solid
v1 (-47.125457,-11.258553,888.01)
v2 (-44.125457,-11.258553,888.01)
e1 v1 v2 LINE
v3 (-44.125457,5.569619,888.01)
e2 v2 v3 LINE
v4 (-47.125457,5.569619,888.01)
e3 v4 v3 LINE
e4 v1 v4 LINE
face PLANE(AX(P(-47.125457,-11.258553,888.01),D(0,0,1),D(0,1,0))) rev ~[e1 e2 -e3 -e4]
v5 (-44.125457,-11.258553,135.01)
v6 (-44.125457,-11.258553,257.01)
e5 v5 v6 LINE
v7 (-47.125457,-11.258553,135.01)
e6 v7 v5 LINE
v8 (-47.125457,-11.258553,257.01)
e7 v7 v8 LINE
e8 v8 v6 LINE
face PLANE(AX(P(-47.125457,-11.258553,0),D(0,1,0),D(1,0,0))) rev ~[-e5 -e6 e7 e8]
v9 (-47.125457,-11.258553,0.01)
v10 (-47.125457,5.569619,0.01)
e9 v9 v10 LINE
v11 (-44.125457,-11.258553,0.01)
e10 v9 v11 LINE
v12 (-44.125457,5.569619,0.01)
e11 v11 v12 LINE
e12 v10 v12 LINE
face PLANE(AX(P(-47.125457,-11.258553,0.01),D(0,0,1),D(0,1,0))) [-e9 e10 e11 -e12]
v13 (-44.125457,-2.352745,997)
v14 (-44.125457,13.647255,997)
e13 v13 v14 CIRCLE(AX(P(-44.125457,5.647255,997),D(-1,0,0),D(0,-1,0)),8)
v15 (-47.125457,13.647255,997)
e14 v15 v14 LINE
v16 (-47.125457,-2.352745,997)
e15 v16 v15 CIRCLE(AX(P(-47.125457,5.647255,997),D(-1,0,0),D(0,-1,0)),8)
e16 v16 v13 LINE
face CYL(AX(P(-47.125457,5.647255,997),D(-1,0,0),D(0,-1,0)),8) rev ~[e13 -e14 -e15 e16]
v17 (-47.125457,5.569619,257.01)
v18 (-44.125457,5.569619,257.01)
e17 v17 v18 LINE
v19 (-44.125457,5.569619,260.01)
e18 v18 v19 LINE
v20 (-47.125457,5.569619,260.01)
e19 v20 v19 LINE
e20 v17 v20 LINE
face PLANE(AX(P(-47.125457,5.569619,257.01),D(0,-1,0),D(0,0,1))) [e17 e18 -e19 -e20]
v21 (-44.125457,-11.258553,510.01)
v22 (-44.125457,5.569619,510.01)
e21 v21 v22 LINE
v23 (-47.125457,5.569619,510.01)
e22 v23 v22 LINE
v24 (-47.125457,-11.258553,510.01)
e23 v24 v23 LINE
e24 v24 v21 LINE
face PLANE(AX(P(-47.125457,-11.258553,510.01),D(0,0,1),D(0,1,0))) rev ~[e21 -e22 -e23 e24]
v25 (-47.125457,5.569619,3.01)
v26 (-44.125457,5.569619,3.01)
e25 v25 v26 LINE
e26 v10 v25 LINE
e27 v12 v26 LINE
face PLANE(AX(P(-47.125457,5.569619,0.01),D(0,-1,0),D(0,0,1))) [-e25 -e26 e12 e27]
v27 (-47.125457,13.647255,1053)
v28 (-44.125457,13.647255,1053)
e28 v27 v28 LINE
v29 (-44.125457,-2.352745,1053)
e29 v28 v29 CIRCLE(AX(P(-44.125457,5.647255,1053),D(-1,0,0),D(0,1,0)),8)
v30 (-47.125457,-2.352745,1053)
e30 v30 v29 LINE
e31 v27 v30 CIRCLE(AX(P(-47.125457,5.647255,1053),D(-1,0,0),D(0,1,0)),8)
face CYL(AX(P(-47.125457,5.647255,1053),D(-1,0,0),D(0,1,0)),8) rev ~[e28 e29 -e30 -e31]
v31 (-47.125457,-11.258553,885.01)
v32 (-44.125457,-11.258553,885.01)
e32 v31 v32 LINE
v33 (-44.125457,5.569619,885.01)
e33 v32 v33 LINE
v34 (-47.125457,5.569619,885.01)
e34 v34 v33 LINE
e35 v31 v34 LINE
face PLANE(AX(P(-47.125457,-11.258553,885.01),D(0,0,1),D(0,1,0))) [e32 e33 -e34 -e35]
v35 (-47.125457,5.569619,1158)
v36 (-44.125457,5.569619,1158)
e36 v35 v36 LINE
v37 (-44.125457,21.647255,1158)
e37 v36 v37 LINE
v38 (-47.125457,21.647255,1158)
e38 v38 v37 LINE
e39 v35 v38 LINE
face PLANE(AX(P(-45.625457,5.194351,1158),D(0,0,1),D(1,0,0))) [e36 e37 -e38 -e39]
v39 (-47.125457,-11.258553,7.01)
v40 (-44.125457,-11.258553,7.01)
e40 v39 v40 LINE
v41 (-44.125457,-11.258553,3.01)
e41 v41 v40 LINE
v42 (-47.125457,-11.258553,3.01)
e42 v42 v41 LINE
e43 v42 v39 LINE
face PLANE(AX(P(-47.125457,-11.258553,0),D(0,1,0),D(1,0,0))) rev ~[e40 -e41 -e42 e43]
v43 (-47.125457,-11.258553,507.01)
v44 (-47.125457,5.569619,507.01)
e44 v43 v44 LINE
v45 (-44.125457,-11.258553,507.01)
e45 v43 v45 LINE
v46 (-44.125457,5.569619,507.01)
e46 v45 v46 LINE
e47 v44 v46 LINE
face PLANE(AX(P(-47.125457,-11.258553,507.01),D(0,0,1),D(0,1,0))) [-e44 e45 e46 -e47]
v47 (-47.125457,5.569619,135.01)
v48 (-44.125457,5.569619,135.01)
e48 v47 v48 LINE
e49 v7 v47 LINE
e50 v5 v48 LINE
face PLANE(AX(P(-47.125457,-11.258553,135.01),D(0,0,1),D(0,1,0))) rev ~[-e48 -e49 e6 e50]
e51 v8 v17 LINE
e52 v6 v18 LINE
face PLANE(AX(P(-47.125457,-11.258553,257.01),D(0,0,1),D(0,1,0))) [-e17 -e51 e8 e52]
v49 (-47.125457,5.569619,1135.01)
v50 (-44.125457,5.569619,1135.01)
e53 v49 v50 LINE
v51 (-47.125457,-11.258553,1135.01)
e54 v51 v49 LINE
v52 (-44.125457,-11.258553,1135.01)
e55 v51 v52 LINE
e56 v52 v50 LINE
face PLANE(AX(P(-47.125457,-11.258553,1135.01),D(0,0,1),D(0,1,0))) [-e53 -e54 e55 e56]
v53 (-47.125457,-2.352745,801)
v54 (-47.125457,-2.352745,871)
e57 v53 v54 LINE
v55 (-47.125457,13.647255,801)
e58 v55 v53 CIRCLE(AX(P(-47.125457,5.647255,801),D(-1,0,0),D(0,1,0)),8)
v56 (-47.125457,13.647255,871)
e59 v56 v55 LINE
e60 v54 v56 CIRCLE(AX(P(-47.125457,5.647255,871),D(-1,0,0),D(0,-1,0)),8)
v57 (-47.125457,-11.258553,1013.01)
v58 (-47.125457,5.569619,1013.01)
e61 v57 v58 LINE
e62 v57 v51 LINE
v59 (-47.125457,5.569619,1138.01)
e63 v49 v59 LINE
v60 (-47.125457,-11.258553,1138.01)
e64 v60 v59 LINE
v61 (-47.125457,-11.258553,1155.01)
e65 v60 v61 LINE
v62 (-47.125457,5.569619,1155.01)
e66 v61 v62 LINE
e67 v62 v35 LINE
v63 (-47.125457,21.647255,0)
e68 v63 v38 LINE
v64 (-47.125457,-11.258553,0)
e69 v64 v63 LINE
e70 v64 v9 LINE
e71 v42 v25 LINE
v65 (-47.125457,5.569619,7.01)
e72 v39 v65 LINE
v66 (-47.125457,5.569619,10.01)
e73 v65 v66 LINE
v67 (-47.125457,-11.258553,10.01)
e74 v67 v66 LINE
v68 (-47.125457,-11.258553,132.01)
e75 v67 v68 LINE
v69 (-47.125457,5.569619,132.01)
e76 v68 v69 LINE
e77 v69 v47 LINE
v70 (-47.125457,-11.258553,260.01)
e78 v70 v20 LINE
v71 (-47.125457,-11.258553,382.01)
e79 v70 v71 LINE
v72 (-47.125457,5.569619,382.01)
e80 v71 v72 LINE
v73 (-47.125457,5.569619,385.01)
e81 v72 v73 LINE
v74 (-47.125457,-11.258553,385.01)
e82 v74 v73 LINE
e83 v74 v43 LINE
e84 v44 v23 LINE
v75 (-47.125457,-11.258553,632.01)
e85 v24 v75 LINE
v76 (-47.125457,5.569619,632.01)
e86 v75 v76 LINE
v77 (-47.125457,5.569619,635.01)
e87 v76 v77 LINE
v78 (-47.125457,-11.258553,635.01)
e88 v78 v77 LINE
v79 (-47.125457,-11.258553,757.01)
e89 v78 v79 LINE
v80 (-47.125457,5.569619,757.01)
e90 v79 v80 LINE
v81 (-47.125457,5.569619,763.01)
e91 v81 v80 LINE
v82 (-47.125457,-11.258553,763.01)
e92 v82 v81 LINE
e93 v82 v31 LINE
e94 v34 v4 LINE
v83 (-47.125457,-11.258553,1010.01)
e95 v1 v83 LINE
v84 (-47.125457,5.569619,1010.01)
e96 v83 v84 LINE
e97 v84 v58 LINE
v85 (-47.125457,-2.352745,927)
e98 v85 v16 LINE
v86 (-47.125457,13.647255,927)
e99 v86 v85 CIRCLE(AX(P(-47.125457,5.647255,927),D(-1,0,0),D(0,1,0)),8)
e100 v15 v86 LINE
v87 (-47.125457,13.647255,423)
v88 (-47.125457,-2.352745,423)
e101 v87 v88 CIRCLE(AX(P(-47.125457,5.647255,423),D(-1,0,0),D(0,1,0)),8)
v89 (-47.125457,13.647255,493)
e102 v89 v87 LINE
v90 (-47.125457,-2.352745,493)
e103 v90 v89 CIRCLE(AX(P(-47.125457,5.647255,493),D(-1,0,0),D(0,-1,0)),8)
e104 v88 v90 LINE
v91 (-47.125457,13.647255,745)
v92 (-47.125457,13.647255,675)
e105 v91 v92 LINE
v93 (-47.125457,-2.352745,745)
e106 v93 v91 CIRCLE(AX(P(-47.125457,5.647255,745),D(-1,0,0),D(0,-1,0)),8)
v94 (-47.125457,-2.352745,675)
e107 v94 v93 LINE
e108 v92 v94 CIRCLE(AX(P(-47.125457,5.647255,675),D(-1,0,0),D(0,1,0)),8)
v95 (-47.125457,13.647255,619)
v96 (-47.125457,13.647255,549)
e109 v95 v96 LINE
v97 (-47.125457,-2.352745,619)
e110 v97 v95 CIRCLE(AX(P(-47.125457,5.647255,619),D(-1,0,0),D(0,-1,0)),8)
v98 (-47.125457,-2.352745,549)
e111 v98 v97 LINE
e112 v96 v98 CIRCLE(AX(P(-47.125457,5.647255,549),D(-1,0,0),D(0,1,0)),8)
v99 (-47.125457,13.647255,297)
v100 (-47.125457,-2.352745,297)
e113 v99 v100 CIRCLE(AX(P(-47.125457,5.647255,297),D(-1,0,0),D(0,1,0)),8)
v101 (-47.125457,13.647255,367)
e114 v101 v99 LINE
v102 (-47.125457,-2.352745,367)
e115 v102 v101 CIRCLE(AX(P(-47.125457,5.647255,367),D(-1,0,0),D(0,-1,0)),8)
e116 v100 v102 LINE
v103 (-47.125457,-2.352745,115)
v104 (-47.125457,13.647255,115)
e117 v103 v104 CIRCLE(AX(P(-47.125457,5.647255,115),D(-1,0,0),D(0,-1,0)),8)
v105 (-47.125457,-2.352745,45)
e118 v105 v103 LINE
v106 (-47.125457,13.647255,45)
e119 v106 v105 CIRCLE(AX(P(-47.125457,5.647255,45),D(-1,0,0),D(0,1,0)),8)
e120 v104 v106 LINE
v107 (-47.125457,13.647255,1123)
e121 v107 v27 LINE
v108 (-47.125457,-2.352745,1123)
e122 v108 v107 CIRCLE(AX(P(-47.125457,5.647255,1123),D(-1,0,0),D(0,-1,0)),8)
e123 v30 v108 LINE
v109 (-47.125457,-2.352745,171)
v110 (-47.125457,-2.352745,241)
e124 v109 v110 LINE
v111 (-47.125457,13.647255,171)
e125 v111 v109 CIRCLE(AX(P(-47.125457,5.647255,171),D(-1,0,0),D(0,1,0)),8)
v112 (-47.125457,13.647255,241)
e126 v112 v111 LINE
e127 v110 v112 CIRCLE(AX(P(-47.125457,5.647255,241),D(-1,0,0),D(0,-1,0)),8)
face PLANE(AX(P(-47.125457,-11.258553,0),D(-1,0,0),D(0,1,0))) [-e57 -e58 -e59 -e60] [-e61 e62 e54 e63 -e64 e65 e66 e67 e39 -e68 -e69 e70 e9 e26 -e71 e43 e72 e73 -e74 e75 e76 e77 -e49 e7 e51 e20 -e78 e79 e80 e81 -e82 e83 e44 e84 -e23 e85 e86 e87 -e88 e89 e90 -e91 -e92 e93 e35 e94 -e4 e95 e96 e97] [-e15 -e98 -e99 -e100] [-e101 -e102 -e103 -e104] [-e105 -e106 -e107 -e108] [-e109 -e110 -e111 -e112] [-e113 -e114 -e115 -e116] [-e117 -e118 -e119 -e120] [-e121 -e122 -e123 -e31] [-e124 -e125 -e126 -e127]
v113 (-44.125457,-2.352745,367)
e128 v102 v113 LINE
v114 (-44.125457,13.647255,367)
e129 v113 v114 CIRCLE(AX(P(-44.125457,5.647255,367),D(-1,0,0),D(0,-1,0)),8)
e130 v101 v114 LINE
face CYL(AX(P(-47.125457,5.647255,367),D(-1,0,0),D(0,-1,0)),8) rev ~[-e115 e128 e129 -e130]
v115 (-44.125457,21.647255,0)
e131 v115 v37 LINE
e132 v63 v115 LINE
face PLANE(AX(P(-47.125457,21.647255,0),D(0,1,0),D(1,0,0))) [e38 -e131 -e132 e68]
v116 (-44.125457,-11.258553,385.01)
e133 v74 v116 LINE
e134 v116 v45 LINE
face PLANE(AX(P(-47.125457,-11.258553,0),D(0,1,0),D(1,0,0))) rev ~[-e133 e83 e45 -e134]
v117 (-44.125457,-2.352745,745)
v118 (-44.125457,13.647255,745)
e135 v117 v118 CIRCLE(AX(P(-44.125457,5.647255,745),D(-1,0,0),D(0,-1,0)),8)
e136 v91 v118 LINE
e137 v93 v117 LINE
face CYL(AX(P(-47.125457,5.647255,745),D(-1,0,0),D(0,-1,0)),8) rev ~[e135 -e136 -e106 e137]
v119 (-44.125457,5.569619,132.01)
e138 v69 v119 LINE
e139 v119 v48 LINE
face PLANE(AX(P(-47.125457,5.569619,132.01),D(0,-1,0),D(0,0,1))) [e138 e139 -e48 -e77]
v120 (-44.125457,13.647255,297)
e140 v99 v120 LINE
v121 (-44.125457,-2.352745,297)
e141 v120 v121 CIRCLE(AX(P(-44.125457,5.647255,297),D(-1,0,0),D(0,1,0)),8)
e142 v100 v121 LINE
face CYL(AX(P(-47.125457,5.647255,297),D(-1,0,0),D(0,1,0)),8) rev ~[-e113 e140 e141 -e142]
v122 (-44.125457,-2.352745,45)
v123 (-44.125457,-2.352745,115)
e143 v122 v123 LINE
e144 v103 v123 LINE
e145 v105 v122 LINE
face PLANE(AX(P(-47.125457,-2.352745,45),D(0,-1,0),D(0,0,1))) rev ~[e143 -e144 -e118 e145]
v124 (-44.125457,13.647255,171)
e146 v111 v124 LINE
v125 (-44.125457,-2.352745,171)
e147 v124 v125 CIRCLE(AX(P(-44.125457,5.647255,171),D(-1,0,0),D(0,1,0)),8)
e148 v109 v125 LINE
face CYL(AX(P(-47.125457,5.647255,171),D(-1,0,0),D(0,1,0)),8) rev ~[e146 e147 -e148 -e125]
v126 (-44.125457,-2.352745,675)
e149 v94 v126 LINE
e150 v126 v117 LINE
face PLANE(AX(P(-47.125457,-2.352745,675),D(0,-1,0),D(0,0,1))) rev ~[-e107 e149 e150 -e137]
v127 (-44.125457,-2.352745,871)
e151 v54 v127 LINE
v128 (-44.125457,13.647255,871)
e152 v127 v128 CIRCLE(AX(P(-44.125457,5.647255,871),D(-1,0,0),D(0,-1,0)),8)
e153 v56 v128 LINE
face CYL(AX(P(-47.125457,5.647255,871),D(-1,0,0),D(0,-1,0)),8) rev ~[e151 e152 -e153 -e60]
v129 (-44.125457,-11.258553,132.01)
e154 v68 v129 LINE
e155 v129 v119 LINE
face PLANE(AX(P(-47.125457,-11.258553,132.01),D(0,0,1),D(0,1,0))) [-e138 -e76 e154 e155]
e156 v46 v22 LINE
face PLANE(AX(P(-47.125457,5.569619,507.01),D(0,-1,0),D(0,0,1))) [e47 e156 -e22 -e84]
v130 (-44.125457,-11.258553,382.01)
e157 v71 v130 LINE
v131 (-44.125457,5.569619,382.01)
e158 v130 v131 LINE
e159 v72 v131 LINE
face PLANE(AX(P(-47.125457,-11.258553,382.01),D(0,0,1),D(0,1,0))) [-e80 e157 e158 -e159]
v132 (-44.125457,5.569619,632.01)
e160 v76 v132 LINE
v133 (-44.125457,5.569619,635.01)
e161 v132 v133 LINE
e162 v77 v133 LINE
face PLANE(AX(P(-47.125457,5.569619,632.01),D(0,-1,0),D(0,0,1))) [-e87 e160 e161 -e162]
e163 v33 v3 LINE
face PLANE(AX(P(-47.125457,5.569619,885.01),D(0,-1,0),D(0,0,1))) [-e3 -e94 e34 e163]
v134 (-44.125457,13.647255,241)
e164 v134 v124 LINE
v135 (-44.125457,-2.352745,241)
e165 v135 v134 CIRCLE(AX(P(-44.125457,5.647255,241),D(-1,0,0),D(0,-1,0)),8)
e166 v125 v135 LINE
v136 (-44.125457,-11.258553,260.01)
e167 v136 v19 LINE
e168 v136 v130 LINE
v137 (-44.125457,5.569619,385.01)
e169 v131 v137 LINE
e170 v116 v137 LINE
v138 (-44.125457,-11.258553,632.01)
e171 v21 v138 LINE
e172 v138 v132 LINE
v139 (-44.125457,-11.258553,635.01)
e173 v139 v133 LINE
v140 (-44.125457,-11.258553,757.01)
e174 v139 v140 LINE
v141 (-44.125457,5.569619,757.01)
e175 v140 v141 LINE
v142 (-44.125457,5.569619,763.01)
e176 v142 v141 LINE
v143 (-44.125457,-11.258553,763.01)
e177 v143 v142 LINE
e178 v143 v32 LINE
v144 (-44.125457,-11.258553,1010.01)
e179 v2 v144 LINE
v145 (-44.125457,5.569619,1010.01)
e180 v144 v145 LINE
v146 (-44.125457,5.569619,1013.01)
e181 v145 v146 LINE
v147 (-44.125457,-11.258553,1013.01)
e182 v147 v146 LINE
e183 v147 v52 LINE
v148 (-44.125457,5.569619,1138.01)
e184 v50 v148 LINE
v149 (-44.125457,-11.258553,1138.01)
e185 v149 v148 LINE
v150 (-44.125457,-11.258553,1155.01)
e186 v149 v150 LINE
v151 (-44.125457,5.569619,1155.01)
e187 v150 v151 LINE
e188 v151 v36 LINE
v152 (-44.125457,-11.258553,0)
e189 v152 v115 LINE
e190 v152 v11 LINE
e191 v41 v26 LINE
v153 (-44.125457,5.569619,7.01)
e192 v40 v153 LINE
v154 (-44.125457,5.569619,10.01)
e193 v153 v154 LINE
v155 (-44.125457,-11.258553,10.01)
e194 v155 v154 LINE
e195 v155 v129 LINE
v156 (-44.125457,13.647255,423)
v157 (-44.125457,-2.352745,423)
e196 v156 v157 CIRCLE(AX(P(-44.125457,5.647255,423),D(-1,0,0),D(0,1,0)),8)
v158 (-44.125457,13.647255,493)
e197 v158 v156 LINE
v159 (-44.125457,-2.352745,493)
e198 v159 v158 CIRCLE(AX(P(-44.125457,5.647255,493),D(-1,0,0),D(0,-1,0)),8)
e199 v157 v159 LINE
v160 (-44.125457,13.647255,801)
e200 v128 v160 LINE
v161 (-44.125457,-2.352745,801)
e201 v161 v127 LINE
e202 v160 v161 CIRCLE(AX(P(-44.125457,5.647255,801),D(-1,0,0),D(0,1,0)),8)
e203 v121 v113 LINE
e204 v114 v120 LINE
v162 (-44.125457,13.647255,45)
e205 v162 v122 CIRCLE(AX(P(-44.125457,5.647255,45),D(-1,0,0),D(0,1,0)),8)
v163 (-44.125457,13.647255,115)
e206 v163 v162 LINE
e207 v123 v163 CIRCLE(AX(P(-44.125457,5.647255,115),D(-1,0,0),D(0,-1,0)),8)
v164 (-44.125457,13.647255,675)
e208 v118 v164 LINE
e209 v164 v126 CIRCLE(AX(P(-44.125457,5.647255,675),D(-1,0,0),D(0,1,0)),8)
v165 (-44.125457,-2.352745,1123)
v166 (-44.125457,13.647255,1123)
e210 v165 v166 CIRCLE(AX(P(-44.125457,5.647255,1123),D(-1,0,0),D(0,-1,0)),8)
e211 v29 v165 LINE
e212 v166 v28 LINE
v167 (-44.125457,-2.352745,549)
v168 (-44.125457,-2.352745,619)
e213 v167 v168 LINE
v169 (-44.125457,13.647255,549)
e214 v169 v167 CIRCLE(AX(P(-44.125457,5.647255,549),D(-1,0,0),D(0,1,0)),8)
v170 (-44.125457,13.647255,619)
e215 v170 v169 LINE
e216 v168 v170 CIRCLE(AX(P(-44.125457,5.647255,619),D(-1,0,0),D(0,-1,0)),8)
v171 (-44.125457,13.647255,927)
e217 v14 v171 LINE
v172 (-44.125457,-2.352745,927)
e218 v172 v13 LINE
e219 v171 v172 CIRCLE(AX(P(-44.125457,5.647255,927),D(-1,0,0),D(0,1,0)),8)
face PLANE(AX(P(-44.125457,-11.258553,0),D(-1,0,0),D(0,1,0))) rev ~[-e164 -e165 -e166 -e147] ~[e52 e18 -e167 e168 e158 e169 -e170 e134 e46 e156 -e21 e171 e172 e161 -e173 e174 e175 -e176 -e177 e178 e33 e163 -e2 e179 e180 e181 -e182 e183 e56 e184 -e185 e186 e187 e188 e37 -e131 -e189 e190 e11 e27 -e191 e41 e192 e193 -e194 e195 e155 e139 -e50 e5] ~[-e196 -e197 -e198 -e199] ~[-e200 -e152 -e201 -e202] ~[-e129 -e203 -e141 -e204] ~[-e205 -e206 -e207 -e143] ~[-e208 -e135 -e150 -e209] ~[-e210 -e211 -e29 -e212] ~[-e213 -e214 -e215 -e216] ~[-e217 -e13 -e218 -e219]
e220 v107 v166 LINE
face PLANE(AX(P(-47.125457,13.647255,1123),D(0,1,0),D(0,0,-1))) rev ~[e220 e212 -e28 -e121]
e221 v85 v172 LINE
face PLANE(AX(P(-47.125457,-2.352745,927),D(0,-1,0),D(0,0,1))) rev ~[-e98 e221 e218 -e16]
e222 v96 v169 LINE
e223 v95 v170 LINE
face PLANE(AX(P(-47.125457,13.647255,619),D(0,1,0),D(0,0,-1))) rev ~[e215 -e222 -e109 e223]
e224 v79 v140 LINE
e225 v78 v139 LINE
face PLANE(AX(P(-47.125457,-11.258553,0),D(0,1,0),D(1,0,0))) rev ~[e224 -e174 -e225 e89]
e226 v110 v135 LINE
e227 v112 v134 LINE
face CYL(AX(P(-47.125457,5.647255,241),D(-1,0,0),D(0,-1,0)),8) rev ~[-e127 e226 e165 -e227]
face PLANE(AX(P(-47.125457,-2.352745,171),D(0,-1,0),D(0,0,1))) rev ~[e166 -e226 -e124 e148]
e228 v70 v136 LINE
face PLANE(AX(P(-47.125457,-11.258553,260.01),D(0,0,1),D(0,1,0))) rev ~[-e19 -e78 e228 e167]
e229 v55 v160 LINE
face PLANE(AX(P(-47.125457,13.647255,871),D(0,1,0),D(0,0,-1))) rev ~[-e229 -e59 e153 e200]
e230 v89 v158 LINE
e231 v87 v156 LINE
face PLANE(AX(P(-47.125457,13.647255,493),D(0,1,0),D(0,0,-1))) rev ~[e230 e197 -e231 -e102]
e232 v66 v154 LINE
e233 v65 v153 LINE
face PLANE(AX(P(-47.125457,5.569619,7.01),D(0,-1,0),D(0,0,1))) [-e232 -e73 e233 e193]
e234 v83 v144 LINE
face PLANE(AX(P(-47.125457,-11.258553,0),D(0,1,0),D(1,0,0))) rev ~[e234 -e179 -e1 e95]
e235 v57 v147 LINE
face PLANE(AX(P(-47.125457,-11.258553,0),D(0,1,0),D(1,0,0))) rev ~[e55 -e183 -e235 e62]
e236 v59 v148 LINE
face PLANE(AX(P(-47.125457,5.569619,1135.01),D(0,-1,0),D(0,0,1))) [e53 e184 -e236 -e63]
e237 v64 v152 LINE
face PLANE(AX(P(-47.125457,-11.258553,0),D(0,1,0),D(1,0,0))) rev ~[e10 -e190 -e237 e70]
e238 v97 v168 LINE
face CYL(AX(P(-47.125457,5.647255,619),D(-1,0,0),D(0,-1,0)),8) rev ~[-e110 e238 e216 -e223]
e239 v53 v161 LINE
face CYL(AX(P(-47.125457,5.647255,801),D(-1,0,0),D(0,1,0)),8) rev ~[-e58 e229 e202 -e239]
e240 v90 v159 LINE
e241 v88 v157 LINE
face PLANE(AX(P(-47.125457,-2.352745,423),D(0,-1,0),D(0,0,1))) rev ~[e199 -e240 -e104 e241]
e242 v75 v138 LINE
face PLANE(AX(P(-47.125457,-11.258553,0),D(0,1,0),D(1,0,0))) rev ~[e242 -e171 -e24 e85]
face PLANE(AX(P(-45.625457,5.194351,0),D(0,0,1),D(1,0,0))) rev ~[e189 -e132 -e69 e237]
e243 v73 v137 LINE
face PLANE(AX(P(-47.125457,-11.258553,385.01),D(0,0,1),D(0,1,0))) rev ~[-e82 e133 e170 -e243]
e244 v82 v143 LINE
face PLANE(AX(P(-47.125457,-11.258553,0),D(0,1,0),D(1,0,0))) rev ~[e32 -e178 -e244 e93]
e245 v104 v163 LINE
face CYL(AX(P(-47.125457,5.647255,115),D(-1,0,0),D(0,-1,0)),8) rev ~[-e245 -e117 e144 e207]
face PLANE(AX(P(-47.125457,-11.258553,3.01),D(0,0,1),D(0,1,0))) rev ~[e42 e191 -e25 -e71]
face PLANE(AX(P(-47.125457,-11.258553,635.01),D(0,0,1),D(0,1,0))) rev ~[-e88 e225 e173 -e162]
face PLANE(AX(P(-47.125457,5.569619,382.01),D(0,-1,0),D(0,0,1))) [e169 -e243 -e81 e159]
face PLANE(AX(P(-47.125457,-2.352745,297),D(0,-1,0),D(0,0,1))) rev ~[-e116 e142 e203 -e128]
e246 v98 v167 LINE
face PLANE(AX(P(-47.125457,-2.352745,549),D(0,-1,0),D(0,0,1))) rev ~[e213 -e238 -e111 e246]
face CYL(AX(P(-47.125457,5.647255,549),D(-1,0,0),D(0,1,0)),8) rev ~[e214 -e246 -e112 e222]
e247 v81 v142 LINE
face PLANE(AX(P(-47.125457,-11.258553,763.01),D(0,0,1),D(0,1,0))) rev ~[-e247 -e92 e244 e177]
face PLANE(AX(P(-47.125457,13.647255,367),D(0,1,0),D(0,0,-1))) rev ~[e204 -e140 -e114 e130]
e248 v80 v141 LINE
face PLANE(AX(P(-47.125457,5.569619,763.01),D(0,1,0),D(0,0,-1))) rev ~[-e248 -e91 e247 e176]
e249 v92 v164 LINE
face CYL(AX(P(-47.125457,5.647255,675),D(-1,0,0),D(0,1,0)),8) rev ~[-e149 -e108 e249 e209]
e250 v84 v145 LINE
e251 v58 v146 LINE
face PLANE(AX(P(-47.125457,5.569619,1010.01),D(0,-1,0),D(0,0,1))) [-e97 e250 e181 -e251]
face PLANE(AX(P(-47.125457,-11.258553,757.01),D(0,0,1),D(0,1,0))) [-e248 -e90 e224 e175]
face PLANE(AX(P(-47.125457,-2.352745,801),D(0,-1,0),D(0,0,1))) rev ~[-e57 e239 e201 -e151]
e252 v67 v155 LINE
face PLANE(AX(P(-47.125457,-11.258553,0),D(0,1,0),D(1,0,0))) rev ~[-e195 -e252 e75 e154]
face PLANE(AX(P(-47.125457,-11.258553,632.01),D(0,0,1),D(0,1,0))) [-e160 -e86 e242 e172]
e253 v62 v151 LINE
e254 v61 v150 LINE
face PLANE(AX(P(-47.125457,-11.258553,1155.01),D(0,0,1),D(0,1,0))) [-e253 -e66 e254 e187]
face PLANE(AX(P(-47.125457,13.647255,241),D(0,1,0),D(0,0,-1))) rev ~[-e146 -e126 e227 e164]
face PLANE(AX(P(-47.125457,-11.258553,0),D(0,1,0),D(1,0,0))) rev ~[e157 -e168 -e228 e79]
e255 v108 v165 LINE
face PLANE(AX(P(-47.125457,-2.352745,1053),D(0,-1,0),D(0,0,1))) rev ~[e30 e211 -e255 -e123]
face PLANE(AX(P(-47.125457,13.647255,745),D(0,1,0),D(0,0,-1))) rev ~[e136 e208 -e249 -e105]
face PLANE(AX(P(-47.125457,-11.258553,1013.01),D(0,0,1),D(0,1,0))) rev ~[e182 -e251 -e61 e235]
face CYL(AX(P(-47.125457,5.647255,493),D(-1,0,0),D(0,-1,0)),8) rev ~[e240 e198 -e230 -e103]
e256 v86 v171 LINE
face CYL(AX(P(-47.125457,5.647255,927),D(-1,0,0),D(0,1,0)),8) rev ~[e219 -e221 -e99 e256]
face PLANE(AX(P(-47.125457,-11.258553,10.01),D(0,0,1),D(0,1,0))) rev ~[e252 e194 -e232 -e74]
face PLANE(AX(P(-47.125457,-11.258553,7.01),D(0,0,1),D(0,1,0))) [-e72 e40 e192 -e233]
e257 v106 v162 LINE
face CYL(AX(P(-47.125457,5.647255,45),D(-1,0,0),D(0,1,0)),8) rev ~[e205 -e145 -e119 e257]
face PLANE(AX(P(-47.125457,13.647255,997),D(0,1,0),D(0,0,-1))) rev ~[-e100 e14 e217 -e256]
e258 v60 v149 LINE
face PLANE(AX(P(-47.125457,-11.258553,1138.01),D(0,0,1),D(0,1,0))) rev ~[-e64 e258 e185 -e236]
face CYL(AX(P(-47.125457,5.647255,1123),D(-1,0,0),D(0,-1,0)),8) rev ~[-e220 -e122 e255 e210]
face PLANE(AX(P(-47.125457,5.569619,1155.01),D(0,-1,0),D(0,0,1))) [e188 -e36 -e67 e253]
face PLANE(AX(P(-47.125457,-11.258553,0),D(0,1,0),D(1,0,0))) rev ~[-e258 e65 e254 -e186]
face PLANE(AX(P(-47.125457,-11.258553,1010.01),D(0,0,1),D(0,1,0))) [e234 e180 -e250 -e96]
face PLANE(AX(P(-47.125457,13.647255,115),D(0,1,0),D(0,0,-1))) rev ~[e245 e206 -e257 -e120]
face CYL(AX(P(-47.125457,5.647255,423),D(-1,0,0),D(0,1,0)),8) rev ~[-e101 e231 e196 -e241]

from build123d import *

# Parameters (mm, degrees)
SKETCH_1_W          = 3
SKETCH_1_H          = 32.905807398
EXTRUDE_1_DEPTH     = 1158
SKETCH_2_W          = 3
SKETCH_2_H          = 16.828171787
SKETCH_2_W_2        = 2.99
CUT_EXTRUDE_1_DEPTH = 3


with BuildPart() as part:
    # 草图1 → 凸台-拉伸1 (new body)
    with BuildSketch(Plane.XY):
        with Locations((-45.625456821, 5.194351007)):
            Rectangle(SKETCH_1_W, SKETCH_1_H)
    extrude(amount=EXTRUDE_1_DEPTH)

    # 草图2 → 切除-拉伸1 (cut)
    with BuildSketch(Plane.ZY.offset(47.125456821)):
        with Locations((1.51, -2.844466799)):
            Rectangle(SKETCH_2_W, SKETCH_2_H)
        with Locations((8.51, -2.844466799)):
            Rectangle(SKETCH_2_W, SKETCH_2_H)
        with BuildLine():
            Line((45, -2.352745294), (115, -2.352745294))
            ThreePointArc((115, -2.352745294), (123, 5.647254706), (115, 13.647254706))
            Line((115, 13.647254706), (45, 13.647254706))
            ThreePointArc((45, 13.647254706), (37, 5.647254706), (45, -2.352745294))
        make_face()
        with Locations((133.51, -2.844466799)):
            Rectangle(SKETCH_2_W, SKETCH_2_H)
        with BuildLine():
            Line((171, -2.352745294), (241, -2.352745294))
            ThreePointArc((241, -2.352745294), (249, 5.647254706), (241, 13.647254706))
            Line((241, 13.647254706), (171, 13.647254706))
            ThreePointArc((171, 13.647254706), (163, 5.647254706), (171, -2.352745294))
        make_face()
        with Locations((258.51, -2.844466799)):
            Rectangle(SKETCH_2_W, SKETCH_2_H)
        with BuildLine():
            Line((297, -2.352745294), (367, -2.352745294))
            ThreePointArc((367, -2.352745294), (375, 5.647254706), (367, 13.647254706))
            Line((367, 13.647254706), (297, 13.647254706))
            ThreePointArc((297, 13.647254706), (289, 5.647254706), (297, -2.352745294))
        make_face()
        with Locations((383.51, -2.844466799)):
            Rectangle(SKETCH_2_W, SKETCH_2_H)
        with BuildLine():
            Line((423, -2.352745294), (493, -2.352745294))
            ThreePointArc((493, -2.352745294), (501, 5.647254706), (493, 13.647254706))
            Line((493, 13.647254706), (423, 13.647254706))
            ThreePointArc((423, 13.647254706), (415, 5.647254706), (423, -2.352745294))
        make_face()
        with Locations((508.51, -2.844466799)):
            Rectangle(SKETCH_2_W, SKETCH_2_H)
        with BuildLine():
            Line((549, -2.352745294), (619, -2.352745294))
            ThreePointArc((619, -2.352745294), (627, 5.647254706), (619, 13.647254706))
            Line((619, 13.647254706), (549, 13.647254706))
            ThreePointArc((549, 13.647254706), (541, 5.647254706), (549, -2.352745294))
        make_face()
        with Locations((633.51, -2.844466799)):
            Rectangle(SKETCH_2_W, SKETCH_2_H)
        with BuildLine():
            Line((675, -2.352745294), (745, -2.352745294))
            ThreePointArc((745, -2.352745294), (753, 5.647254706), (745, 13.647254706))
            Line((745, 13.647254706), (675, 13.647254706))
            ThreePointArc((675, 13.647254706), (667, 5.647254706), (675, -2.352745294))
        make_face()
        with Locations((758.51, -2.844466799)):
            Rectangle(SKETCH_2_W, SKETCH_2_H)
        with Locations((761.51, -2.844466799)):
            Rectangle(SKETCH_2_W, SKETCH_2_H)
        with BuildLine():
            Line((801, -2.352745294), (871, -2.352745294))
            ThreePointArc((871, -2.352745294), (879, 5.647254706), (871, 13.647254706))
            Line((871, 13.647254706), (801, 13.647254706))
            ThreePointArc((801, 13.647254706), (793, 5.647254706), (801, -2.352745294))
        make_face()
        with Locations((886.51, -2.844466799)):
            Rectangle(SKETCH_2_W, SKETCH_2_H)
        with BuildLine():
            Line((927, -2.352745294), (997, -2.352745294))
            ThreePointArc((997, -2.352745294), (1005, 5.647254706), (997, 13.647254706))
            Line((997, 13.647254706), (927, 13.647254706))
            ThreePointArc((927, 13.647254706), (919, 5.647254706), (927, -2.352745294))
        make_face()
        with Locations((1011.51, -2.844466799)):
            Rectangle(SKETCH_2_W, SKETCH_2_H)
        with BuildLine():
            Line((1053, -2.352745294), (1123, -2.352745294))
            ThreePointArc((1123, -2.352745294), (1131, 5.647254706), (1123, 13.647254706))
            Line((1123, 13.647254706), (1053, 13.647254706))
            ThreePointArc((1053, 13.647254706), (1045, 5.647254706), (1053, -2.352745294))
        make_face()
        with Locations((1136.51, -2.844466799)):
            Rectangle(SKETCH_2_W, SKETCH_2_H)
        with Locations((1156.505, -2.844466799)):
            Rectangle(SKETCH_2_W_2, SKETCH_2_H)
    extrude(amount=-CUT_EXTRUDE_1_DEPTH, mode=Mode.SUBTRACT)


solid = part.part
